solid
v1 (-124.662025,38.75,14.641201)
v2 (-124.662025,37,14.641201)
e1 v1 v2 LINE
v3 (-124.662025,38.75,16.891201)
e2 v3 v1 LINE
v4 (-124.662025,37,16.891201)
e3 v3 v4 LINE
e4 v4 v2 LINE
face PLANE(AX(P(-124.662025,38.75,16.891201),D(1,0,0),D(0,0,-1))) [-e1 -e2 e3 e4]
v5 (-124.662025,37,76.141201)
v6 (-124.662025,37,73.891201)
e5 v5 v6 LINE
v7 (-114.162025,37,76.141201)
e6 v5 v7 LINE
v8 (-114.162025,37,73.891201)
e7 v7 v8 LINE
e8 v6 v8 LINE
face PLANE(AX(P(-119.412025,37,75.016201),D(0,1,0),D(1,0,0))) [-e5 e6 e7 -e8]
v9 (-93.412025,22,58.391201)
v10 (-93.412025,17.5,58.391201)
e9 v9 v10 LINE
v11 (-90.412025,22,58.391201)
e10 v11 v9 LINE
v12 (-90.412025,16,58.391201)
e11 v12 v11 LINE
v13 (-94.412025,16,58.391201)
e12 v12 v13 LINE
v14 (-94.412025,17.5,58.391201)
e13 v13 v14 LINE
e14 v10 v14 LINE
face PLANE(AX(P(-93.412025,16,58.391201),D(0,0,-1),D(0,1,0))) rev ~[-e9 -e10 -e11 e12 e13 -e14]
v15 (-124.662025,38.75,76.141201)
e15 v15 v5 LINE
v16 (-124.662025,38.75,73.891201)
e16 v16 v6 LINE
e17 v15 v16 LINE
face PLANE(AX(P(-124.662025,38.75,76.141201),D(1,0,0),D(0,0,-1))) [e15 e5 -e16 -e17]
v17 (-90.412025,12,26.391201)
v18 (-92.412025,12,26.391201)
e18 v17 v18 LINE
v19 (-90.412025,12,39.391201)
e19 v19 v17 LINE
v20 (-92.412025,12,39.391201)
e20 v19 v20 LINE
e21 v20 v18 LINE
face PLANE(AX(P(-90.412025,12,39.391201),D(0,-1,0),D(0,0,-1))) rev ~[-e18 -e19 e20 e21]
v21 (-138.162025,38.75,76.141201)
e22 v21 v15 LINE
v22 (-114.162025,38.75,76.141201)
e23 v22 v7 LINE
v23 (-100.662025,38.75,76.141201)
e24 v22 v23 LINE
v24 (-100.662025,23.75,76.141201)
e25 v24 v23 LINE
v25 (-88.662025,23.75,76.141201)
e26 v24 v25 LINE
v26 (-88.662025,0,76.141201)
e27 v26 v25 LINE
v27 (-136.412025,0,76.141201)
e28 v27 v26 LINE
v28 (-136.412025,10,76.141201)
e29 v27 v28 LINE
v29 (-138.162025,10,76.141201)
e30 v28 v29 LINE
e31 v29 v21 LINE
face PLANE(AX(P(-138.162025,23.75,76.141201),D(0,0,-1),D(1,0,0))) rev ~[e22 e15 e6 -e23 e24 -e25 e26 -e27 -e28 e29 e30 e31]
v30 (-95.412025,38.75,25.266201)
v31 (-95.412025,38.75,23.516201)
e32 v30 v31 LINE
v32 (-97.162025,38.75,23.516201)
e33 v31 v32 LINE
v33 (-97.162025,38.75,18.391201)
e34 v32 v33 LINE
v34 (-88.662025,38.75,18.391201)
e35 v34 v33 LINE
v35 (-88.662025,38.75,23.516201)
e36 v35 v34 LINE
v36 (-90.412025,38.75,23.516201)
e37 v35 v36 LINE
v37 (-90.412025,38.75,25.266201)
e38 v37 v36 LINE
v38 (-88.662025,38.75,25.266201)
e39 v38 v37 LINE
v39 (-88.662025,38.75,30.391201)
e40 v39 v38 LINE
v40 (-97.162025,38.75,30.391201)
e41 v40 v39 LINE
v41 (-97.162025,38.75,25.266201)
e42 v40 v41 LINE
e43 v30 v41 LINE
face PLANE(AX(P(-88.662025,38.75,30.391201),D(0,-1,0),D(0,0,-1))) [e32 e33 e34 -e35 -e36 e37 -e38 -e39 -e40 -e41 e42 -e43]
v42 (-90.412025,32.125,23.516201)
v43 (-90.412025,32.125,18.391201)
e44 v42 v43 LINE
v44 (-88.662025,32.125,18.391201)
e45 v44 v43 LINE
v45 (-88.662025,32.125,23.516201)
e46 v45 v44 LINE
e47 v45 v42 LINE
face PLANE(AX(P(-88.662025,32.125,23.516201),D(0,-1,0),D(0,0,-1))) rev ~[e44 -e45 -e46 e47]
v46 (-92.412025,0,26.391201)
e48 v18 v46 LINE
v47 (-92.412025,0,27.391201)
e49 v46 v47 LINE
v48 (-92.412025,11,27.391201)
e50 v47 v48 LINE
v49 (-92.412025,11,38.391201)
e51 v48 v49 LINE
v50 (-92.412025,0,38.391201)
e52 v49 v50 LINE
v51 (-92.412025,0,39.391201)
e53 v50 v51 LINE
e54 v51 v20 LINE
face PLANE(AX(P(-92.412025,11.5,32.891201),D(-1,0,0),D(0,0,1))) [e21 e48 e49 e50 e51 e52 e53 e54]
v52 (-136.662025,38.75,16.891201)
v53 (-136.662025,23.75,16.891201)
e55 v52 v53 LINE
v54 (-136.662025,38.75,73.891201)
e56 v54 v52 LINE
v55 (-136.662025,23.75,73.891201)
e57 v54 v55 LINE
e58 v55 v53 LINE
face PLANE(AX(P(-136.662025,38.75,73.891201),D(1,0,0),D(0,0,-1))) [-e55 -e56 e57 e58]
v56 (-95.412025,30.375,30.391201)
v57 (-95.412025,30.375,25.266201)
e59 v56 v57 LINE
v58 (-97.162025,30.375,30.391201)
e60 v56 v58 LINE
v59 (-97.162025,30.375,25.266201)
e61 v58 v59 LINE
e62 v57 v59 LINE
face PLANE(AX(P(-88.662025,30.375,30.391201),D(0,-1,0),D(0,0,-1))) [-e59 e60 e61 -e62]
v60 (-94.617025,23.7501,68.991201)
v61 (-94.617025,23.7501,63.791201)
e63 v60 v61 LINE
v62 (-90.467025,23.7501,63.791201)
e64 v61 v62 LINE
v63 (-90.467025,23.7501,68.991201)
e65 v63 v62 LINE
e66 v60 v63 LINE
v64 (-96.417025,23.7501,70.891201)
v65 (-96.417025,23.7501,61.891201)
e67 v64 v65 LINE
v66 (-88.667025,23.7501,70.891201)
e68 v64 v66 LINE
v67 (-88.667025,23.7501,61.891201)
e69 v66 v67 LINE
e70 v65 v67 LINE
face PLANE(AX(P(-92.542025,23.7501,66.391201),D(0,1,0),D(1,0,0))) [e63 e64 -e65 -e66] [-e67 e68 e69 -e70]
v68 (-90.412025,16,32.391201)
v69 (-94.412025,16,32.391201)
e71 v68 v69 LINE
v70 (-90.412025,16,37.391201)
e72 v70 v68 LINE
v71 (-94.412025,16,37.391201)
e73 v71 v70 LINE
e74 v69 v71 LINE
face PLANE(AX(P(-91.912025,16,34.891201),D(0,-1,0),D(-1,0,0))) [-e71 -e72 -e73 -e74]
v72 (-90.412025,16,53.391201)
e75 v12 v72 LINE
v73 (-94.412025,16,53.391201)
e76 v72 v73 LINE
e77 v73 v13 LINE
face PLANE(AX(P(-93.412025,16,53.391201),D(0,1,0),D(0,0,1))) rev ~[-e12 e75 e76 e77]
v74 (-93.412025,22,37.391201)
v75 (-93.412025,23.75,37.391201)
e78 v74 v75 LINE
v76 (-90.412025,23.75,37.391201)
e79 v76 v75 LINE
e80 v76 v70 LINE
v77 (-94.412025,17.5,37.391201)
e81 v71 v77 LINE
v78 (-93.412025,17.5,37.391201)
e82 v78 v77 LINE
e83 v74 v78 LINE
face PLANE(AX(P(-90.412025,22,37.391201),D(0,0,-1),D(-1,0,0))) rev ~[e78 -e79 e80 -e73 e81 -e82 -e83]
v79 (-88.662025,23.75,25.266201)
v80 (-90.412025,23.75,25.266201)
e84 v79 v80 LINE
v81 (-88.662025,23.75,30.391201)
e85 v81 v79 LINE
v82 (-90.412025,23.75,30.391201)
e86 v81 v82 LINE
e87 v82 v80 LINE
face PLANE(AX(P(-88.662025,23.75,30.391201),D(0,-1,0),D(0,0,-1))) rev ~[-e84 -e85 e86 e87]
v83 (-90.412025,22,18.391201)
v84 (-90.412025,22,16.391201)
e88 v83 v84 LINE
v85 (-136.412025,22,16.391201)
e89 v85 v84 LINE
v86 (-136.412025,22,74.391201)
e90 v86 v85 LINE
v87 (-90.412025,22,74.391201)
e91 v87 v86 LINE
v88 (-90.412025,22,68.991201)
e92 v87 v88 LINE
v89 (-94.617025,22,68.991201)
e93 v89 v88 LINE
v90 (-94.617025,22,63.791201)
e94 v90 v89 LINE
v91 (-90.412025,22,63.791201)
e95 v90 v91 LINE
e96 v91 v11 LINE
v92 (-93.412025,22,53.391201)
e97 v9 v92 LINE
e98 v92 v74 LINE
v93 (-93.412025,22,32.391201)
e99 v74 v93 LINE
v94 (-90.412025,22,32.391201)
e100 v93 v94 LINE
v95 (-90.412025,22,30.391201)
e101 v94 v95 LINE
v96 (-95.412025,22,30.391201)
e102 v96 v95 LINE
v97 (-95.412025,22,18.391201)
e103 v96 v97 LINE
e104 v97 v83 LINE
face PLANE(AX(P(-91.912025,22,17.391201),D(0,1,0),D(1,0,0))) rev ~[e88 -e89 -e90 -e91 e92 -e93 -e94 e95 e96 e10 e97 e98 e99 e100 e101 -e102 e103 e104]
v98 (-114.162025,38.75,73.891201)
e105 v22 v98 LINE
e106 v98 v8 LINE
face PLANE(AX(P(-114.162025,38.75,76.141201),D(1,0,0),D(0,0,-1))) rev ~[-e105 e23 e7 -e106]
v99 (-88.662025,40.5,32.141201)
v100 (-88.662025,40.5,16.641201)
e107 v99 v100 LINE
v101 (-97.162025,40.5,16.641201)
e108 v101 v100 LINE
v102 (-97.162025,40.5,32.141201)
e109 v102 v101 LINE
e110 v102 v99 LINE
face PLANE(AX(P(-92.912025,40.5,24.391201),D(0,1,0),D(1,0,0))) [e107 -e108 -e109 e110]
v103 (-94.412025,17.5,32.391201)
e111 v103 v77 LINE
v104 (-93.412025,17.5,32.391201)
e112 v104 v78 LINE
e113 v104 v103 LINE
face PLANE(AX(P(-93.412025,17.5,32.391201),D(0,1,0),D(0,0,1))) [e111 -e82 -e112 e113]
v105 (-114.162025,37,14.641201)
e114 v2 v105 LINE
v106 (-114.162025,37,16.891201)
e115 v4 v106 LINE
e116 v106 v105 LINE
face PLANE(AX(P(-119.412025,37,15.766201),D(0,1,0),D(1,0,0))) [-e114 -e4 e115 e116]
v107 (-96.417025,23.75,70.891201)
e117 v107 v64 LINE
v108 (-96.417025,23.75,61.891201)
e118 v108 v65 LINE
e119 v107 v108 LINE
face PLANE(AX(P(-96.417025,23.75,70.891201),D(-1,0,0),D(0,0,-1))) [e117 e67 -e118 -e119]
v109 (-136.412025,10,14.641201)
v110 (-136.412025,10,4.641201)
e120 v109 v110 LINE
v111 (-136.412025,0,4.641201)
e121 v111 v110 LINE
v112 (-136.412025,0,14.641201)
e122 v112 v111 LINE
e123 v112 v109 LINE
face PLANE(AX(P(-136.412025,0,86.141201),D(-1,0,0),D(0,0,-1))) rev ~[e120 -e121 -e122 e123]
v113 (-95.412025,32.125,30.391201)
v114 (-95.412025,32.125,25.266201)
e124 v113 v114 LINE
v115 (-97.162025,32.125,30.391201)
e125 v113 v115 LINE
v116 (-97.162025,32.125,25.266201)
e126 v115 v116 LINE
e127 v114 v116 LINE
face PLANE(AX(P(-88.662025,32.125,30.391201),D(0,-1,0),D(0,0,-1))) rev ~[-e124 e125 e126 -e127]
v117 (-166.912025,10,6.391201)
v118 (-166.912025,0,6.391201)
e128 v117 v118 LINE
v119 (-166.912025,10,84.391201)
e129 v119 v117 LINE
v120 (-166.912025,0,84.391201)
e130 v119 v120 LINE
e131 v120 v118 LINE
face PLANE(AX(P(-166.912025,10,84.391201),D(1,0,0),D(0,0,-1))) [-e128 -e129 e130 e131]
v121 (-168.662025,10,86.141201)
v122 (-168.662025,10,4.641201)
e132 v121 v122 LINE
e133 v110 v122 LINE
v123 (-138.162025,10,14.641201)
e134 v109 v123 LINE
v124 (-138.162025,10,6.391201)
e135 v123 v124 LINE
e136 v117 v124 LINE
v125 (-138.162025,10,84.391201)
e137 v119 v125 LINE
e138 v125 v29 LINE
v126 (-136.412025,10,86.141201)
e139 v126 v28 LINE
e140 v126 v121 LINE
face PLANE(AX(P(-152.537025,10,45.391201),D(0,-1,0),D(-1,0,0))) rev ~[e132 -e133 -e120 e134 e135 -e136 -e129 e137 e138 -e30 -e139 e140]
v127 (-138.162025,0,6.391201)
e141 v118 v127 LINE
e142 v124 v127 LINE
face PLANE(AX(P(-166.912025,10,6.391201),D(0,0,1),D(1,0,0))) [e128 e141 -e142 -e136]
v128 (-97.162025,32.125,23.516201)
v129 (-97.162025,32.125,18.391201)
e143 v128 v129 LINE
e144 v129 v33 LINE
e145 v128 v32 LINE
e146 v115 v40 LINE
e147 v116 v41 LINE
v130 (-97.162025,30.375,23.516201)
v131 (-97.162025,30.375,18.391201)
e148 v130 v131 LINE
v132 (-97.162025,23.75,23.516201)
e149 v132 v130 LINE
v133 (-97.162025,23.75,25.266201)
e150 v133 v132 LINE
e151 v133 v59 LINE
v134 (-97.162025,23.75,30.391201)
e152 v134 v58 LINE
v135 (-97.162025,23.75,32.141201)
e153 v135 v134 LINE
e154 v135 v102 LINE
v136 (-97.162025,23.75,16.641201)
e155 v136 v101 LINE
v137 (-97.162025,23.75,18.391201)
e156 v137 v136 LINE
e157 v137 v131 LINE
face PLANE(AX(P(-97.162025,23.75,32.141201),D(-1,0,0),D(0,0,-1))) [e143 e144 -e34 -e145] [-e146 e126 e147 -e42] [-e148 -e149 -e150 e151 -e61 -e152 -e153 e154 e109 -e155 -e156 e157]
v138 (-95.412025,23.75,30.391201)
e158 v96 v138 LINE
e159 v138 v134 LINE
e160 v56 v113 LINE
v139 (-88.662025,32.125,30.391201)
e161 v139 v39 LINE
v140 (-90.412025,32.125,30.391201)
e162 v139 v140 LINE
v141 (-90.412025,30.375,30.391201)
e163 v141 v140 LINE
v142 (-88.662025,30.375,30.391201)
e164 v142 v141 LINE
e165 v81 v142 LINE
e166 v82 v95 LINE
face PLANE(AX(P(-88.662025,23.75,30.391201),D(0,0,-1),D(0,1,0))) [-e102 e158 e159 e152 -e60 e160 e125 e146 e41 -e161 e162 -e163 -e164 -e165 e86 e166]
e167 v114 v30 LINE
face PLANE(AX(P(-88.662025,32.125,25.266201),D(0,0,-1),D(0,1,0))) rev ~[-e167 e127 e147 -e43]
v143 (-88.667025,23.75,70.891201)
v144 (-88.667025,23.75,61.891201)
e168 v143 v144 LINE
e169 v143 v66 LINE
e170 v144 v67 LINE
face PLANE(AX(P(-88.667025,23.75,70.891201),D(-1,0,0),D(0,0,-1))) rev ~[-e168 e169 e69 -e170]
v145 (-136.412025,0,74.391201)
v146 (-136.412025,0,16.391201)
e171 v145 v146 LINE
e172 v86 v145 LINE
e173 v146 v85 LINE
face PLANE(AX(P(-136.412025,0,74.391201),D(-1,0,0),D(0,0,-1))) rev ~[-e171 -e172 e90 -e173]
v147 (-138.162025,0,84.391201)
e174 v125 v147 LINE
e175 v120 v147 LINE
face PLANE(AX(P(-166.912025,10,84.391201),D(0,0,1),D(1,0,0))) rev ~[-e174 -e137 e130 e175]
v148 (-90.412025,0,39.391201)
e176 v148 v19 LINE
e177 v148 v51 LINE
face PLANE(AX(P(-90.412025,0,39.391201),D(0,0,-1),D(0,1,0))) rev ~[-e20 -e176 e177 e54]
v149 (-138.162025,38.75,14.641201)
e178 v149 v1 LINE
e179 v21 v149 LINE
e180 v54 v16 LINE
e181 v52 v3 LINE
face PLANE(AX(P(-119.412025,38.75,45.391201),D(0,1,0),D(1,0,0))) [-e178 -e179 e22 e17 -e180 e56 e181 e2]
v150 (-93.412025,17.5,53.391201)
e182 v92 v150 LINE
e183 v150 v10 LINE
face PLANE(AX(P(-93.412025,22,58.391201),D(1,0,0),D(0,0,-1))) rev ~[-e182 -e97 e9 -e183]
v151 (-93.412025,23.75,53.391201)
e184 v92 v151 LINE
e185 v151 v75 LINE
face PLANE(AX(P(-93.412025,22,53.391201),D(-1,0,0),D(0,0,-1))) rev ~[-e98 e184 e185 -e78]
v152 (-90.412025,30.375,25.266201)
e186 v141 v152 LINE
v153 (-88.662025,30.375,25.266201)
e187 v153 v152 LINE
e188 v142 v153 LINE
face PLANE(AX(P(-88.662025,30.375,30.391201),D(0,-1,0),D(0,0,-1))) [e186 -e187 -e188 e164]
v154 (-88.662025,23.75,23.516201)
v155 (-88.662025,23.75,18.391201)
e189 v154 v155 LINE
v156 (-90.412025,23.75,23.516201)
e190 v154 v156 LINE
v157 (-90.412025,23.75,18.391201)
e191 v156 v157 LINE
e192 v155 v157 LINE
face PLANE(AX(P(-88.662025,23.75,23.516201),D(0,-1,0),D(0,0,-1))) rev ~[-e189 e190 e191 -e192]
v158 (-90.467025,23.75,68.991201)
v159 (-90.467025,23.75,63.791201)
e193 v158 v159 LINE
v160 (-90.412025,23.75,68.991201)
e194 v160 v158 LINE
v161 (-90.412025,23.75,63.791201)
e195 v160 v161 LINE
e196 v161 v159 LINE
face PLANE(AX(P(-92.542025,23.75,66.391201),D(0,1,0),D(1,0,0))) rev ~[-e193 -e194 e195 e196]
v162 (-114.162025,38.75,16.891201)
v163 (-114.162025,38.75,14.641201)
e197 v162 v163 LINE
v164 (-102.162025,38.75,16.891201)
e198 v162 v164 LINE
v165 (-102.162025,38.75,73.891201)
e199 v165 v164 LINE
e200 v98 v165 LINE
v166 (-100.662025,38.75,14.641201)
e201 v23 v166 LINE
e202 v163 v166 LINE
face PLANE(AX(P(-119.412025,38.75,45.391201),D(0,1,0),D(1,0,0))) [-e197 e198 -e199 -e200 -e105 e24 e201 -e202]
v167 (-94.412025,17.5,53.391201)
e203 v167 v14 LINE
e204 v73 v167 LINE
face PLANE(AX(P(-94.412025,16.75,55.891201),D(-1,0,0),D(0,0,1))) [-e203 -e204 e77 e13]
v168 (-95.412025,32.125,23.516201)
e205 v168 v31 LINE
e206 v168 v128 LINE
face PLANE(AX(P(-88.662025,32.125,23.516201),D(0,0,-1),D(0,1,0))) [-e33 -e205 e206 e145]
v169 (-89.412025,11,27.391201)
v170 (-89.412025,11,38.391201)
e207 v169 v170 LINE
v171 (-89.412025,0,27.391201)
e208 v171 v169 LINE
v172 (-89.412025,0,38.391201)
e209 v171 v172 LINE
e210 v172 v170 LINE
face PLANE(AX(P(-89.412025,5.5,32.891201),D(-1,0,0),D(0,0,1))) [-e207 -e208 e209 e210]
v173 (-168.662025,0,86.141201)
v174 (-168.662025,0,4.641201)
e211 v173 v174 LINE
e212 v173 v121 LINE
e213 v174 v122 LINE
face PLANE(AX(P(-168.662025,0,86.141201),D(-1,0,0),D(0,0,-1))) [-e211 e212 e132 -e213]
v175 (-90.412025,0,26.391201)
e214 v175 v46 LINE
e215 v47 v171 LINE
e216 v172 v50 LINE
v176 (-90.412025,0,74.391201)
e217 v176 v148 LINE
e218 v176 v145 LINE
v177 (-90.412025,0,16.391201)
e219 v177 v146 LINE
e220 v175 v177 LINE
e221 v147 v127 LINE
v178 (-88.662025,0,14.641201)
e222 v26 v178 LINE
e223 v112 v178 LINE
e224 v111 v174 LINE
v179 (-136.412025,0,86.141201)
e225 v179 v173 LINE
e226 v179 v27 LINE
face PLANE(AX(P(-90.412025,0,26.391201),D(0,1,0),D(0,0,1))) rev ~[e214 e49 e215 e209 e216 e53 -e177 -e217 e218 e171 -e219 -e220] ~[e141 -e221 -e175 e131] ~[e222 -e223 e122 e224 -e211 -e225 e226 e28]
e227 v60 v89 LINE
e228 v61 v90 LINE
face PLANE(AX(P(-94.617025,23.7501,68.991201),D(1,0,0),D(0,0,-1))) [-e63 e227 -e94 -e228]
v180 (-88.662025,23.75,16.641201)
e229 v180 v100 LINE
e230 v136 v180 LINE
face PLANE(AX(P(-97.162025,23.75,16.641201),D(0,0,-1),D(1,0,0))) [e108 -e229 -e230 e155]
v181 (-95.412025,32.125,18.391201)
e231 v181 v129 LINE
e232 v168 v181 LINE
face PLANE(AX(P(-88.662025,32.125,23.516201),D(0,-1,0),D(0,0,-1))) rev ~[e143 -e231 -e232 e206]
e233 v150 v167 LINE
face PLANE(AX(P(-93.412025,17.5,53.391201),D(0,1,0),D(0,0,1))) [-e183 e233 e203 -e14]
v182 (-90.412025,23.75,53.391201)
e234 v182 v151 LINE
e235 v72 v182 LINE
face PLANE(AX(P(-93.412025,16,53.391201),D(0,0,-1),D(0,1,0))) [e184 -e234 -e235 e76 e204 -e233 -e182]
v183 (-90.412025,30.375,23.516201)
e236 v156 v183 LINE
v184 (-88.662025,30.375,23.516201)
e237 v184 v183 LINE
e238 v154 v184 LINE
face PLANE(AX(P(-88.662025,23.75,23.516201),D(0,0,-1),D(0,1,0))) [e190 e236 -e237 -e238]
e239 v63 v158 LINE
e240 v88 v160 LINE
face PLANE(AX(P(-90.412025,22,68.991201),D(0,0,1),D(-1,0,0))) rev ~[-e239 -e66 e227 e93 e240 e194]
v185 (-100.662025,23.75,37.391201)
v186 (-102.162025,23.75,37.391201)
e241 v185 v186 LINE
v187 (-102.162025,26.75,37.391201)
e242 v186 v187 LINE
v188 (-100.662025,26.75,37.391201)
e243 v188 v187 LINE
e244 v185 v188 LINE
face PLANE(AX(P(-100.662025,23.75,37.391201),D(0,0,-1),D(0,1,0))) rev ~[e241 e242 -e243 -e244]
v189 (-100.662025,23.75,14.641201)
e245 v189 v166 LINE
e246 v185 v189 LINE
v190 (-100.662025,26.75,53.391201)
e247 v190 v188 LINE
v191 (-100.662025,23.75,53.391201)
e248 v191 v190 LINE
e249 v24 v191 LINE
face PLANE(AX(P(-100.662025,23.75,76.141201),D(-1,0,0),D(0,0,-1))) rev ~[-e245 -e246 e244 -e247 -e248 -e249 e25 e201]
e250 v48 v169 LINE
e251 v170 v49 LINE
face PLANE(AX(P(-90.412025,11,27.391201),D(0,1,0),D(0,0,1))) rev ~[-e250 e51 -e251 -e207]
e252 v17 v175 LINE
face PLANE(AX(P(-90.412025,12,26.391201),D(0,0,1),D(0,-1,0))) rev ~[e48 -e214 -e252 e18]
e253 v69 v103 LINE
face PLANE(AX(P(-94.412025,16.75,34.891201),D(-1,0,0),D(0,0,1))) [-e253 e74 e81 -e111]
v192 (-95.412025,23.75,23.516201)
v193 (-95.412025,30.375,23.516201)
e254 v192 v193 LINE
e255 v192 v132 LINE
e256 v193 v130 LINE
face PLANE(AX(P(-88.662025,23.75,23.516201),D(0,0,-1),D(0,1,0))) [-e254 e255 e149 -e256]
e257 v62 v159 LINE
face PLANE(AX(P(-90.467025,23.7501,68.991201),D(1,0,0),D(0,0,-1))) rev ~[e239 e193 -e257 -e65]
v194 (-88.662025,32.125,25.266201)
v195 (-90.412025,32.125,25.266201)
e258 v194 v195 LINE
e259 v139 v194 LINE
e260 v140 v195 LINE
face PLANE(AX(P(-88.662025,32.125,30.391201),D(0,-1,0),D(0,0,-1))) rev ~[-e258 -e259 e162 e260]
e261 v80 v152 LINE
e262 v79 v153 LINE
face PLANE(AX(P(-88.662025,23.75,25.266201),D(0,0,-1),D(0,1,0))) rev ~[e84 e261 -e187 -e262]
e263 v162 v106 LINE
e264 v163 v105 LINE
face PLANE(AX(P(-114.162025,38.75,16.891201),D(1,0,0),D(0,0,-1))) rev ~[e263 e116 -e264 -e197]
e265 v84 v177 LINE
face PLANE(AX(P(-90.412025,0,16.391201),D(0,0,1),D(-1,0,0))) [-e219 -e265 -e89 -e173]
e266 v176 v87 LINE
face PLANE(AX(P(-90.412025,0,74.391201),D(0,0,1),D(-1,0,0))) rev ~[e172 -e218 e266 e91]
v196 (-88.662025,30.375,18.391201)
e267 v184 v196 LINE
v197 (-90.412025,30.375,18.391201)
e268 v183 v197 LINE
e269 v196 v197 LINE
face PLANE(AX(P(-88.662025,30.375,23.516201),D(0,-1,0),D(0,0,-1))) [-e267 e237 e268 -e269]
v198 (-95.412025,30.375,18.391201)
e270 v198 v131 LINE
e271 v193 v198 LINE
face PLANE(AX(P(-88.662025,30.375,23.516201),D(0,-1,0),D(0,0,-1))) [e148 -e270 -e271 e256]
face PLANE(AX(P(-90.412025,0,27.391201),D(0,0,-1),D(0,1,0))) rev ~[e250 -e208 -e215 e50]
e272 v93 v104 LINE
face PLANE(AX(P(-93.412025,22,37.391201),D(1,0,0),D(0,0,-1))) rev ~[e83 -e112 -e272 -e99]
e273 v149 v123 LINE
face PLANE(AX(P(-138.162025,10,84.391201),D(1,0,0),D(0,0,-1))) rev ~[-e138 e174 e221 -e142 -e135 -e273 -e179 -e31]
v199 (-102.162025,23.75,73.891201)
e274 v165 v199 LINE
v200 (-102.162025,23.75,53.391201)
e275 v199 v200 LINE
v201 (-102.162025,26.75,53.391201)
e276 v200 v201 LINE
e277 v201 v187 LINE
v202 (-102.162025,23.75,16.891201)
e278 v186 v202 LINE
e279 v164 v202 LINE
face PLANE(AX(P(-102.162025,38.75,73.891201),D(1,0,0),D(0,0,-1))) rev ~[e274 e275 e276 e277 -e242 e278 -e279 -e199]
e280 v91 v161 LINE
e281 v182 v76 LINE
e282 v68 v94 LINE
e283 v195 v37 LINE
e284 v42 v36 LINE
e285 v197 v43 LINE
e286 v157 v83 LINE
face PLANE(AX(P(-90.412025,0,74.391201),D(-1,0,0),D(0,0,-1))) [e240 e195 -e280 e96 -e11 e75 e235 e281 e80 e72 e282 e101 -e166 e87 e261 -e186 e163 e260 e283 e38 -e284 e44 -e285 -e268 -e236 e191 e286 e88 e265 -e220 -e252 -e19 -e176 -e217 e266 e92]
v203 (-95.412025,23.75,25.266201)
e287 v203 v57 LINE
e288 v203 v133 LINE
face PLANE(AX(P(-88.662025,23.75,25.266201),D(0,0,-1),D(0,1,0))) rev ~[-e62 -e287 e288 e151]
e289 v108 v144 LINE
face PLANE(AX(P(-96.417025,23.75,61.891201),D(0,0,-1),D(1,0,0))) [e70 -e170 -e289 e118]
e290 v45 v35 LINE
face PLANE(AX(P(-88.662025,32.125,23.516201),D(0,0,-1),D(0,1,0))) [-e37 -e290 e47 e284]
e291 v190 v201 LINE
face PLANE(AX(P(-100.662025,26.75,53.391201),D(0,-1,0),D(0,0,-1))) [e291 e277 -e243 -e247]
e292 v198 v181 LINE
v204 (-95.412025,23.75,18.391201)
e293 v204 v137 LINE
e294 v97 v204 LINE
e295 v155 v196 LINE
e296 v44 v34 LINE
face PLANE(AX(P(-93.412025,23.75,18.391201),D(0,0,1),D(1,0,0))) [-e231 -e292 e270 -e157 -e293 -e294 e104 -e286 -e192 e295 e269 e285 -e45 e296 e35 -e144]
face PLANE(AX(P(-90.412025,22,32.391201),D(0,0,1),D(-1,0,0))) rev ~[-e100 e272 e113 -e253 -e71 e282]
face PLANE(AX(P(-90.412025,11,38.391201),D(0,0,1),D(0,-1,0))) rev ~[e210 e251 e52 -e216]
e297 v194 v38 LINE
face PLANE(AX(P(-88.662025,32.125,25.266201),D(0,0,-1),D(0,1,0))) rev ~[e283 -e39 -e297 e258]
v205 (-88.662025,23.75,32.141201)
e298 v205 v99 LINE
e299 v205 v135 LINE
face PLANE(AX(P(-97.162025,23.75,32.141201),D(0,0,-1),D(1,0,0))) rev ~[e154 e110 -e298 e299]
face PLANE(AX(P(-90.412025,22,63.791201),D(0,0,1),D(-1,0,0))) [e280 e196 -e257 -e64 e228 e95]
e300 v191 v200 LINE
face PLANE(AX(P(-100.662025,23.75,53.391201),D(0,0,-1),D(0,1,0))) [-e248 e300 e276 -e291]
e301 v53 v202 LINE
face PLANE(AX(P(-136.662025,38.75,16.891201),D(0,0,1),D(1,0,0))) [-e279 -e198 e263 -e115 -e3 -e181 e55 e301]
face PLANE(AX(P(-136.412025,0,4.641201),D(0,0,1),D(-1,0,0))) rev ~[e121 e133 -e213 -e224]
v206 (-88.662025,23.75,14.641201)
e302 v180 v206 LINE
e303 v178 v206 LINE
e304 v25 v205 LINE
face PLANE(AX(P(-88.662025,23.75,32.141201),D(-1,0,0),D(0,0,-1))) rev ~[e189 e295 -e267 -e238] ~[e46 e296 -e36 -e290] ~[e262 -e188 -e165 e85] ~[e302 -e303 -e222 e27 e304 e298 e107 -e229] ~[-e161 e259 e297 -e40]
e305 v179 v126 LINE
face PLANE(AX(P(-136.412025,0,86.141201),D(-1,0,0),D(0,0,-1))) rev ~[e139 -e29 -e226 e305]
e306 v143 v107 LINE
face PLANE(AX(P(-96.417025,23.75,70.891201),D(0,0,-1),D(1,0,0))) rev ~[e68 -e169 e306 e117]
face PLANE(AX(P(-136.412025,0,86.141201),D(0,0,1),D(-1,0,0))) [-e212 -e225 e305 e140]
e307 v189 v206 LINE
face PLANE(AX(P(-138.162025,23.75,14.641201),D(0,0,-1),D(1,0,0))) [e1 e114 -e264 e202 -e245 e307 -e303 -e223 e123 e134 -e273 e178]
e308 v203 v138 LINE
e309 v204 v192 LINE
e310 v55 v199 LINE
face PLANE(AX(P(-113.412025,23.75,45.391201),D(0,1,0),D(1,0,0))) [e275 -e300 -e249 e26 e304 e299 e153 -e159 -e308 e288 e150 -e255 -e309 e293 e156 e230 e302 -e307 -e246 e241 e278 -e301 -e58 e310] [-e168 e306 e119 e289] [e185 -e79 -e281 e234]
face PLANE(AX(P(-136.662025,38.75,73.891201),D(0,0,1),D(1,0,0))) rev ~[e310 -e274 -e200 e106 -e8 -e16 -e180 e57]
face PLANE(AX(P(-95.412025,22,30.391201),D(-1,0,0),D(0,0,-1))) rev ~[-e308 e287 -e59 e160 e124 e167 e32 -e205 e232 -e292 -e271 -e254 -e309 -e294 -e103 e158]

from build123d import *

# Parameters (mm, degrees)
SKETCH1_W               = 49.5
SKETCH1_H               = 61.5
BOSS_EXTRUDE1_DEPTH     = 23.75
SKETCH2_W               = 46
SKETCH2_H               = 58
CUT_EXTRUDE1_DEPTH      = 22
SKETCH3_W               = 3
SKETCH3_H               = 16
CUT_EXTRUDE2_DEPTH      = 1.75
SKETCH7_W               = 3
SKETCH7_H               = 5
BOSS_EXTRUDE2_DEPTH     = 6
SKETCH11_W              = 37.5
SKETCH11_H              = 61.5
BOSS_EXTRUDE3_DEPTH     = 15
SKETCH12_W              = 34.5
SKETCH12_H              = 57
CUT_EXTRUDE3_DEPTH      = 15
SKETCH14_W              = 7.75
SKETCH14_H              = 9
BOSS_EXTRUDE4_DEPTH     = 0.0001
SKETCH15_W              = 4.15
SKETCH15_H              = 5.2
CUT_EXTRUDE4_DEPTH      = 4.75
SKETCH16_W              = 8.5
SKETCH16_H              = 15.5
BOSS_EXTRUDE5_DEPTH     = 16.75
SKETCH17_W              = 5.125
SKETCH17_H              = 6.625
CUT_EXTRUDE5_DEPTH      = 8.5
CUT_EXTRUDE6_DEPTH      = 15
CUT_EXTRUDE6_DEPTH_BACK = 1.75
SKETCH18_W              = 5
SKETCH18_H              = 12
SKETCH20_W              = 16
SKETCH20_H              = 3
CUT_EXTRUDE7_DEPTH      = 1.75
SKETCH21_W              = 32.25
SKETCH21_H              = 81.5
BOSS_EXTRUDE7_DEPTH     = 10
SKETCH23_W              = 28.75
SKETCH23_H              = 78
CUT_EXTRUDE8_DEPTH      = 10
SKETCH25_W              = 3
SKETCH25_H              = 5.4
BOSS_EXTRUDE8_DEPTH     = 1.75
SKETCH28_W              = 3
SKETCH28_H              = 2
BOSS_EXTRUDE9_DEPTH     = 1.75
SKETCH30_W              = 5
SKETCH30_H              = 1.5
BOSS_EXTRUDE11_DEPTH    = 1
SKETCH32_W              = 10.5
SKETCH32_H              = 2.25
CUT_EXTRUDE9_DEPTH      = 1.75
SKETCH33_W              = 11
SKETCH33_H              = 11
CUT_EXTRUDE10_DEPTH     = 1
BOSS_EXTRUDE12_DEPTH    = 2


with BuildPart() as part:
    # Sketch1 → Boss-Extrude1 (new body)
    with BuildSketch(Plane(origin=(0, 0, 0), x_dir=(1, 0, 0), z_dir=(0, 1, 0))):
        with Locations((-113.412024913, -45.391200727)):
            Rectangle(SKETCH1_W, SKETCH1_H)
    extrude(amount=BOSS_EXTRUDE1_DEPTH)

    # Sketch2 → Cut-Extrude1 (cut)
    with BuildSketch(Plane(origin=(0, 0, 0), x_dir=(-1, 0, 0), z_dir=(0, -1, 0))):
        with Locations((113.412024913, -45.391200727)):
            Rectangle(SKETCH2_W, SKETCH2_H)
    extrude(amount=-CUT_EXTRUDE1_DEPTH, mode=Mode.SUBTRACT)

    # Sketch3 → Cut-Extrude2 (cut)
    with BuildSketch(Plane(origin=(0, 22, 0), x_dir=(-1, 0, 0), z_dir=(0, -1, 0))):
        with Locations((91.912024913, -66.391200727)):
            Rectangle(SKETCH3_W, SKETCH3_H)
        with Locations((91.912024913, -45.391200727)):
            Rectangle(SKETCH3_W, SKETCH3_H)
        with Locations((91.912024913, -24.391200727)):
            Rectangle(SKETCH3_W, SKETCH3_H)
    extrude(amount=-CUT_EXTRUDE2_DEPTH, mode=Mode.SUBTRACT)

    # Sketch7 → Boss-Extrude2 (add)
    with BuildSketch(Plane(origin=(0, 22, 0), x_dir=(-1, 0, 0), z_dir=(0, -1, 0))):
        with Locations((91.912024913, -55.891200727)):
            Rectangle(SKETCH7_W, SKETCH7_H)
        with Locations((91.912024913, -34.891200727)):
            Rectangle(SKETCH7_W, SKETCH7_H)
    extrude(amount=BOSS_EXTRUDE2_DEPTH)

    # Sketch11 → Boss-Extrude3 (add)
    with BuildSketch(Plane(origin=(0, 23.75, 0), x_dir=(1, 0, 0), z_dir=(0, 1, 0))):
        with Locations((-119.412024913, -45.391200727)):
            Rectangle(SKETCH11_W, SKETCH11_H)
    extrude(amount=BOSS_EXTRUDE3_DEPTH)

    # Sketch12 → Cut-Extrude3 (cut)
    with BuildSketch(Plane(origin=(0, 38.75, 0), x_dir=(1, 0, 0), z_dir=(0, 1, 0))):
        with Locations((-119.412024913, -45.391200727)):
            Rectangle(SKETCH12_W, SKETCH12_H)
    extrude(amount=-CUT_EXTRUDE3_DEPTH, mode=Mode.SUBTRACT)

    # Sketch14 → Boss-Extrude4 (add)
    with BuildSketch(Plane(origin=(0, 23.75, 0), x_dir=(1, 0, 0), z_dir=(0, 1, 0))):
        with Locations((-92.542024913, -66.391200727)):
            Rectangle(SKETCH14_W, SKETCH14_H)
    extrude(amount=BOSS_EXTRUDE4_DEPTH)

    # Sketch15 → Cut-Extrude4 (cut)
    with BuildSketch(Plane(origin=(0, 23.7501, 0), x_dir=(1, 0, 0), z_dir=(0, 1, 0))):
        with Locations((-92.542024913, -66.391200727)):
            Rectangle(SKETCH15_W, SKETCH15_H)
    extrude(amount=-CUT_EXTRUDE4_DEPTH, mode=Mode.SUBTRACT)

    # Sketch16 → Boss-Extrude5 (add)
    with BuildSketch(Plane(origin=(0, 23.75, 0), x_dir=(1, 0, 0), z_dir=(0, 1, 0))):
        with Locations((-92.912024913, -24.391200727)):
            Rectangle(SKETCH16_W, SKETCH16_H)
    extrude(amount=BOSS_EXTRUDE5_DEPTH)

    # Sketch17 → Cut-Extrude5 (cut)
    with BuildSketch(Plane(origin=(-88.662024913, 0, 0), x_dir=(0, 0, -1), z_dir=(1, 0, 0))):
        with Locations((-27.828700727, 35.4375)):
            Rectangle(SKETCH17_W, SKETCH17_H)
        with Locations((-27.828700727, 27.0625)):
            Rectangle(SKETCH17_W, SKETCH17_H)
        with Locations((-20.953700727, 35.4375)):
            Rectangle(SKETCH17_W, SKETCH17_H)
        with Locations((-20.953700727, 27.0625)):
            Rectangle(SKETCH17_W, SKETCH17_H)
    extrude(amount=-CUT_EXTRUDE5_DEPTH, mode=Mode.SUBTRACT)

    # Sketch18 → Cut-Extrude6 (cut, two sides: drawn at the far end of the back side and taken through both)
    with BuildSketch(Plane(origin=(0, 23.75, 0), x_dir=(1, 0, 0), z_dir=(0, 1, 0)).offset(-CUT_EXTRUDE6_DEPTH_BACK)):
        with Locations((-92.912024913, -24.391200727)):
            Rectangle(SKETCH18_W, SKETCH18_H)
    extrude(amount=CUT_EXTRUDE6_DEPTH + CUT_EXTRUDE6_DEPTH_BACK, mode=Mode.SUBTRACT)

    # Sketch20 → Cut-Extrude7 (cut)
    with BuildSketch(Plane(origin=(-100.662024913, 0, 0), x_dir=(0, 0, -1), z_dir=(1, 0, 0))):
        with Locations((-45.391200727, 25.25)):
            Rectangle(SKETCH20_W, SKETCH20_H)
    extrude(amount=-CUT_EXTRUDE7_DEPTH, mode=Mode.SUBTRACT)

    # Sketch21 → Boss-Extrude7 (add)
    with BuildSketch(Plane(origin=(0, 0, 0), x_dir=(-1, 0, 0), z_dir=(0, -1, 0))):
        with Locations((152.537024913, -45.391200727)):
            Rectangle(SKETCH21_W, SKETCH21_H)
    extrude(amount=-BOSS_EXTRUDE7_DEPTH)

    # Sketch23 → Cut-Extrude8 (cut)
    with BuildSketch(Plane(origin=(0, 10, 0), x_dir=(1, 0, 0), z_dir=(0, 1, 0))):
        with Locations((-152.537024913, -45.391200727)):
            Rectangle(SKETCH23_W, SKETCH23_H)
    extrude(amount=-CUT_EXTRUDE8_DEPTH, mode=Mode.SUBTRACT)

    # Sketch25 → Boss-Extrude8 (add)
    with BuildSketch(Plane(origin=(0, 22, 0), x_dir=(-1, 0, 0), z_dir=(0, -1, 0))):
        with Locations((91.912024913, -61.091200727)):
            Rectangle(SKETCH25_W, SKETCH25_H)
        with Locations((91.912024913, -71.691200727)):
            Rectangle(SKETCH25_W, SKETCH25_H)
    extrude(amount=-BOSS_EXTRUDE8_DEPTH)

    # Sketch28 → Boss-Extrude9 (add)
    with BuildSketch(Plane(origin=(0, 23.75, 0), x_dir=(1, 0, 0), z_dir=(0, 1, 0))):
        with Locations((-91.912024913, -17.391200727)):
            Rectangle(SKETCH28_W, SKETCH28_H)
        with Locations((-91.912024913, -31.391200727)):
            Rectangle(SKETCH28_W, SKETCH28_H)
    extrude(amount=-BOSS_EXTRUDE9_DEPTH)

    # Sketch30 → Boss-Extrude11 (add)
    with BuildSketch(Plane.ZY.offset(93.412024913)):
        with Locations((55.891200727, 16.75)):
            Rectangle(SKETCH30_W, SKETCH30_H)
        with Locations((34.891200727, 16.75)):
            Rectangle(SKETCH30_W, SKETCH30_H)
    extrude(amount=BOSS_EXTRUDE11_DEPTH)

    # Sketch32 → Cut-Extrude9 (cut)
    with BuildSketch(Plane(origin=(0, 38.75, 0), x_dir=(1, 0, 0), z_dir=(0, 1, 0))):
        with Locations((-119.412024913, -75.016200727)):
            Rectangle(SKETCH32_W, SKETCH32_H)
        with Locations((-119.412024913, -15.766200727)):
            Rectangle(SKETCH32_W, SKETCH32_H)
    extrude(amount=-CUT_EXTRUDE9_DEPTH, mode=Mode.SUBTRACT)

    # Sketch33 → Cut-Extrude10 (cut)
    with BuildSketch(Plane.ZY.offset(90.412024913)):
        with Locations((32.891200727, 5.5)):
            Rectangle(SKETCH33_W, SKETCH33_H)
    extrude(amount=-CUT_EXTRUDE10_DEPTH, mode=Mode.SUBTRACT)

    # Sketch34 → Boss-Extrude12 (add)
    with BuildSketch(Plane.ZY.offset(90.412024913)):
        Polygon((26.391200727, 0), (27.391200727, 0), (27.391200727, 11), (38.391200727, 11), (38.391200727, 0), (39.391200727, 0), (39.391200727, 12), (26.391200727, 12), align=None)
    extrude(amount=BOSS_EXTRUDE12_DEPTH)


solid = part.part
